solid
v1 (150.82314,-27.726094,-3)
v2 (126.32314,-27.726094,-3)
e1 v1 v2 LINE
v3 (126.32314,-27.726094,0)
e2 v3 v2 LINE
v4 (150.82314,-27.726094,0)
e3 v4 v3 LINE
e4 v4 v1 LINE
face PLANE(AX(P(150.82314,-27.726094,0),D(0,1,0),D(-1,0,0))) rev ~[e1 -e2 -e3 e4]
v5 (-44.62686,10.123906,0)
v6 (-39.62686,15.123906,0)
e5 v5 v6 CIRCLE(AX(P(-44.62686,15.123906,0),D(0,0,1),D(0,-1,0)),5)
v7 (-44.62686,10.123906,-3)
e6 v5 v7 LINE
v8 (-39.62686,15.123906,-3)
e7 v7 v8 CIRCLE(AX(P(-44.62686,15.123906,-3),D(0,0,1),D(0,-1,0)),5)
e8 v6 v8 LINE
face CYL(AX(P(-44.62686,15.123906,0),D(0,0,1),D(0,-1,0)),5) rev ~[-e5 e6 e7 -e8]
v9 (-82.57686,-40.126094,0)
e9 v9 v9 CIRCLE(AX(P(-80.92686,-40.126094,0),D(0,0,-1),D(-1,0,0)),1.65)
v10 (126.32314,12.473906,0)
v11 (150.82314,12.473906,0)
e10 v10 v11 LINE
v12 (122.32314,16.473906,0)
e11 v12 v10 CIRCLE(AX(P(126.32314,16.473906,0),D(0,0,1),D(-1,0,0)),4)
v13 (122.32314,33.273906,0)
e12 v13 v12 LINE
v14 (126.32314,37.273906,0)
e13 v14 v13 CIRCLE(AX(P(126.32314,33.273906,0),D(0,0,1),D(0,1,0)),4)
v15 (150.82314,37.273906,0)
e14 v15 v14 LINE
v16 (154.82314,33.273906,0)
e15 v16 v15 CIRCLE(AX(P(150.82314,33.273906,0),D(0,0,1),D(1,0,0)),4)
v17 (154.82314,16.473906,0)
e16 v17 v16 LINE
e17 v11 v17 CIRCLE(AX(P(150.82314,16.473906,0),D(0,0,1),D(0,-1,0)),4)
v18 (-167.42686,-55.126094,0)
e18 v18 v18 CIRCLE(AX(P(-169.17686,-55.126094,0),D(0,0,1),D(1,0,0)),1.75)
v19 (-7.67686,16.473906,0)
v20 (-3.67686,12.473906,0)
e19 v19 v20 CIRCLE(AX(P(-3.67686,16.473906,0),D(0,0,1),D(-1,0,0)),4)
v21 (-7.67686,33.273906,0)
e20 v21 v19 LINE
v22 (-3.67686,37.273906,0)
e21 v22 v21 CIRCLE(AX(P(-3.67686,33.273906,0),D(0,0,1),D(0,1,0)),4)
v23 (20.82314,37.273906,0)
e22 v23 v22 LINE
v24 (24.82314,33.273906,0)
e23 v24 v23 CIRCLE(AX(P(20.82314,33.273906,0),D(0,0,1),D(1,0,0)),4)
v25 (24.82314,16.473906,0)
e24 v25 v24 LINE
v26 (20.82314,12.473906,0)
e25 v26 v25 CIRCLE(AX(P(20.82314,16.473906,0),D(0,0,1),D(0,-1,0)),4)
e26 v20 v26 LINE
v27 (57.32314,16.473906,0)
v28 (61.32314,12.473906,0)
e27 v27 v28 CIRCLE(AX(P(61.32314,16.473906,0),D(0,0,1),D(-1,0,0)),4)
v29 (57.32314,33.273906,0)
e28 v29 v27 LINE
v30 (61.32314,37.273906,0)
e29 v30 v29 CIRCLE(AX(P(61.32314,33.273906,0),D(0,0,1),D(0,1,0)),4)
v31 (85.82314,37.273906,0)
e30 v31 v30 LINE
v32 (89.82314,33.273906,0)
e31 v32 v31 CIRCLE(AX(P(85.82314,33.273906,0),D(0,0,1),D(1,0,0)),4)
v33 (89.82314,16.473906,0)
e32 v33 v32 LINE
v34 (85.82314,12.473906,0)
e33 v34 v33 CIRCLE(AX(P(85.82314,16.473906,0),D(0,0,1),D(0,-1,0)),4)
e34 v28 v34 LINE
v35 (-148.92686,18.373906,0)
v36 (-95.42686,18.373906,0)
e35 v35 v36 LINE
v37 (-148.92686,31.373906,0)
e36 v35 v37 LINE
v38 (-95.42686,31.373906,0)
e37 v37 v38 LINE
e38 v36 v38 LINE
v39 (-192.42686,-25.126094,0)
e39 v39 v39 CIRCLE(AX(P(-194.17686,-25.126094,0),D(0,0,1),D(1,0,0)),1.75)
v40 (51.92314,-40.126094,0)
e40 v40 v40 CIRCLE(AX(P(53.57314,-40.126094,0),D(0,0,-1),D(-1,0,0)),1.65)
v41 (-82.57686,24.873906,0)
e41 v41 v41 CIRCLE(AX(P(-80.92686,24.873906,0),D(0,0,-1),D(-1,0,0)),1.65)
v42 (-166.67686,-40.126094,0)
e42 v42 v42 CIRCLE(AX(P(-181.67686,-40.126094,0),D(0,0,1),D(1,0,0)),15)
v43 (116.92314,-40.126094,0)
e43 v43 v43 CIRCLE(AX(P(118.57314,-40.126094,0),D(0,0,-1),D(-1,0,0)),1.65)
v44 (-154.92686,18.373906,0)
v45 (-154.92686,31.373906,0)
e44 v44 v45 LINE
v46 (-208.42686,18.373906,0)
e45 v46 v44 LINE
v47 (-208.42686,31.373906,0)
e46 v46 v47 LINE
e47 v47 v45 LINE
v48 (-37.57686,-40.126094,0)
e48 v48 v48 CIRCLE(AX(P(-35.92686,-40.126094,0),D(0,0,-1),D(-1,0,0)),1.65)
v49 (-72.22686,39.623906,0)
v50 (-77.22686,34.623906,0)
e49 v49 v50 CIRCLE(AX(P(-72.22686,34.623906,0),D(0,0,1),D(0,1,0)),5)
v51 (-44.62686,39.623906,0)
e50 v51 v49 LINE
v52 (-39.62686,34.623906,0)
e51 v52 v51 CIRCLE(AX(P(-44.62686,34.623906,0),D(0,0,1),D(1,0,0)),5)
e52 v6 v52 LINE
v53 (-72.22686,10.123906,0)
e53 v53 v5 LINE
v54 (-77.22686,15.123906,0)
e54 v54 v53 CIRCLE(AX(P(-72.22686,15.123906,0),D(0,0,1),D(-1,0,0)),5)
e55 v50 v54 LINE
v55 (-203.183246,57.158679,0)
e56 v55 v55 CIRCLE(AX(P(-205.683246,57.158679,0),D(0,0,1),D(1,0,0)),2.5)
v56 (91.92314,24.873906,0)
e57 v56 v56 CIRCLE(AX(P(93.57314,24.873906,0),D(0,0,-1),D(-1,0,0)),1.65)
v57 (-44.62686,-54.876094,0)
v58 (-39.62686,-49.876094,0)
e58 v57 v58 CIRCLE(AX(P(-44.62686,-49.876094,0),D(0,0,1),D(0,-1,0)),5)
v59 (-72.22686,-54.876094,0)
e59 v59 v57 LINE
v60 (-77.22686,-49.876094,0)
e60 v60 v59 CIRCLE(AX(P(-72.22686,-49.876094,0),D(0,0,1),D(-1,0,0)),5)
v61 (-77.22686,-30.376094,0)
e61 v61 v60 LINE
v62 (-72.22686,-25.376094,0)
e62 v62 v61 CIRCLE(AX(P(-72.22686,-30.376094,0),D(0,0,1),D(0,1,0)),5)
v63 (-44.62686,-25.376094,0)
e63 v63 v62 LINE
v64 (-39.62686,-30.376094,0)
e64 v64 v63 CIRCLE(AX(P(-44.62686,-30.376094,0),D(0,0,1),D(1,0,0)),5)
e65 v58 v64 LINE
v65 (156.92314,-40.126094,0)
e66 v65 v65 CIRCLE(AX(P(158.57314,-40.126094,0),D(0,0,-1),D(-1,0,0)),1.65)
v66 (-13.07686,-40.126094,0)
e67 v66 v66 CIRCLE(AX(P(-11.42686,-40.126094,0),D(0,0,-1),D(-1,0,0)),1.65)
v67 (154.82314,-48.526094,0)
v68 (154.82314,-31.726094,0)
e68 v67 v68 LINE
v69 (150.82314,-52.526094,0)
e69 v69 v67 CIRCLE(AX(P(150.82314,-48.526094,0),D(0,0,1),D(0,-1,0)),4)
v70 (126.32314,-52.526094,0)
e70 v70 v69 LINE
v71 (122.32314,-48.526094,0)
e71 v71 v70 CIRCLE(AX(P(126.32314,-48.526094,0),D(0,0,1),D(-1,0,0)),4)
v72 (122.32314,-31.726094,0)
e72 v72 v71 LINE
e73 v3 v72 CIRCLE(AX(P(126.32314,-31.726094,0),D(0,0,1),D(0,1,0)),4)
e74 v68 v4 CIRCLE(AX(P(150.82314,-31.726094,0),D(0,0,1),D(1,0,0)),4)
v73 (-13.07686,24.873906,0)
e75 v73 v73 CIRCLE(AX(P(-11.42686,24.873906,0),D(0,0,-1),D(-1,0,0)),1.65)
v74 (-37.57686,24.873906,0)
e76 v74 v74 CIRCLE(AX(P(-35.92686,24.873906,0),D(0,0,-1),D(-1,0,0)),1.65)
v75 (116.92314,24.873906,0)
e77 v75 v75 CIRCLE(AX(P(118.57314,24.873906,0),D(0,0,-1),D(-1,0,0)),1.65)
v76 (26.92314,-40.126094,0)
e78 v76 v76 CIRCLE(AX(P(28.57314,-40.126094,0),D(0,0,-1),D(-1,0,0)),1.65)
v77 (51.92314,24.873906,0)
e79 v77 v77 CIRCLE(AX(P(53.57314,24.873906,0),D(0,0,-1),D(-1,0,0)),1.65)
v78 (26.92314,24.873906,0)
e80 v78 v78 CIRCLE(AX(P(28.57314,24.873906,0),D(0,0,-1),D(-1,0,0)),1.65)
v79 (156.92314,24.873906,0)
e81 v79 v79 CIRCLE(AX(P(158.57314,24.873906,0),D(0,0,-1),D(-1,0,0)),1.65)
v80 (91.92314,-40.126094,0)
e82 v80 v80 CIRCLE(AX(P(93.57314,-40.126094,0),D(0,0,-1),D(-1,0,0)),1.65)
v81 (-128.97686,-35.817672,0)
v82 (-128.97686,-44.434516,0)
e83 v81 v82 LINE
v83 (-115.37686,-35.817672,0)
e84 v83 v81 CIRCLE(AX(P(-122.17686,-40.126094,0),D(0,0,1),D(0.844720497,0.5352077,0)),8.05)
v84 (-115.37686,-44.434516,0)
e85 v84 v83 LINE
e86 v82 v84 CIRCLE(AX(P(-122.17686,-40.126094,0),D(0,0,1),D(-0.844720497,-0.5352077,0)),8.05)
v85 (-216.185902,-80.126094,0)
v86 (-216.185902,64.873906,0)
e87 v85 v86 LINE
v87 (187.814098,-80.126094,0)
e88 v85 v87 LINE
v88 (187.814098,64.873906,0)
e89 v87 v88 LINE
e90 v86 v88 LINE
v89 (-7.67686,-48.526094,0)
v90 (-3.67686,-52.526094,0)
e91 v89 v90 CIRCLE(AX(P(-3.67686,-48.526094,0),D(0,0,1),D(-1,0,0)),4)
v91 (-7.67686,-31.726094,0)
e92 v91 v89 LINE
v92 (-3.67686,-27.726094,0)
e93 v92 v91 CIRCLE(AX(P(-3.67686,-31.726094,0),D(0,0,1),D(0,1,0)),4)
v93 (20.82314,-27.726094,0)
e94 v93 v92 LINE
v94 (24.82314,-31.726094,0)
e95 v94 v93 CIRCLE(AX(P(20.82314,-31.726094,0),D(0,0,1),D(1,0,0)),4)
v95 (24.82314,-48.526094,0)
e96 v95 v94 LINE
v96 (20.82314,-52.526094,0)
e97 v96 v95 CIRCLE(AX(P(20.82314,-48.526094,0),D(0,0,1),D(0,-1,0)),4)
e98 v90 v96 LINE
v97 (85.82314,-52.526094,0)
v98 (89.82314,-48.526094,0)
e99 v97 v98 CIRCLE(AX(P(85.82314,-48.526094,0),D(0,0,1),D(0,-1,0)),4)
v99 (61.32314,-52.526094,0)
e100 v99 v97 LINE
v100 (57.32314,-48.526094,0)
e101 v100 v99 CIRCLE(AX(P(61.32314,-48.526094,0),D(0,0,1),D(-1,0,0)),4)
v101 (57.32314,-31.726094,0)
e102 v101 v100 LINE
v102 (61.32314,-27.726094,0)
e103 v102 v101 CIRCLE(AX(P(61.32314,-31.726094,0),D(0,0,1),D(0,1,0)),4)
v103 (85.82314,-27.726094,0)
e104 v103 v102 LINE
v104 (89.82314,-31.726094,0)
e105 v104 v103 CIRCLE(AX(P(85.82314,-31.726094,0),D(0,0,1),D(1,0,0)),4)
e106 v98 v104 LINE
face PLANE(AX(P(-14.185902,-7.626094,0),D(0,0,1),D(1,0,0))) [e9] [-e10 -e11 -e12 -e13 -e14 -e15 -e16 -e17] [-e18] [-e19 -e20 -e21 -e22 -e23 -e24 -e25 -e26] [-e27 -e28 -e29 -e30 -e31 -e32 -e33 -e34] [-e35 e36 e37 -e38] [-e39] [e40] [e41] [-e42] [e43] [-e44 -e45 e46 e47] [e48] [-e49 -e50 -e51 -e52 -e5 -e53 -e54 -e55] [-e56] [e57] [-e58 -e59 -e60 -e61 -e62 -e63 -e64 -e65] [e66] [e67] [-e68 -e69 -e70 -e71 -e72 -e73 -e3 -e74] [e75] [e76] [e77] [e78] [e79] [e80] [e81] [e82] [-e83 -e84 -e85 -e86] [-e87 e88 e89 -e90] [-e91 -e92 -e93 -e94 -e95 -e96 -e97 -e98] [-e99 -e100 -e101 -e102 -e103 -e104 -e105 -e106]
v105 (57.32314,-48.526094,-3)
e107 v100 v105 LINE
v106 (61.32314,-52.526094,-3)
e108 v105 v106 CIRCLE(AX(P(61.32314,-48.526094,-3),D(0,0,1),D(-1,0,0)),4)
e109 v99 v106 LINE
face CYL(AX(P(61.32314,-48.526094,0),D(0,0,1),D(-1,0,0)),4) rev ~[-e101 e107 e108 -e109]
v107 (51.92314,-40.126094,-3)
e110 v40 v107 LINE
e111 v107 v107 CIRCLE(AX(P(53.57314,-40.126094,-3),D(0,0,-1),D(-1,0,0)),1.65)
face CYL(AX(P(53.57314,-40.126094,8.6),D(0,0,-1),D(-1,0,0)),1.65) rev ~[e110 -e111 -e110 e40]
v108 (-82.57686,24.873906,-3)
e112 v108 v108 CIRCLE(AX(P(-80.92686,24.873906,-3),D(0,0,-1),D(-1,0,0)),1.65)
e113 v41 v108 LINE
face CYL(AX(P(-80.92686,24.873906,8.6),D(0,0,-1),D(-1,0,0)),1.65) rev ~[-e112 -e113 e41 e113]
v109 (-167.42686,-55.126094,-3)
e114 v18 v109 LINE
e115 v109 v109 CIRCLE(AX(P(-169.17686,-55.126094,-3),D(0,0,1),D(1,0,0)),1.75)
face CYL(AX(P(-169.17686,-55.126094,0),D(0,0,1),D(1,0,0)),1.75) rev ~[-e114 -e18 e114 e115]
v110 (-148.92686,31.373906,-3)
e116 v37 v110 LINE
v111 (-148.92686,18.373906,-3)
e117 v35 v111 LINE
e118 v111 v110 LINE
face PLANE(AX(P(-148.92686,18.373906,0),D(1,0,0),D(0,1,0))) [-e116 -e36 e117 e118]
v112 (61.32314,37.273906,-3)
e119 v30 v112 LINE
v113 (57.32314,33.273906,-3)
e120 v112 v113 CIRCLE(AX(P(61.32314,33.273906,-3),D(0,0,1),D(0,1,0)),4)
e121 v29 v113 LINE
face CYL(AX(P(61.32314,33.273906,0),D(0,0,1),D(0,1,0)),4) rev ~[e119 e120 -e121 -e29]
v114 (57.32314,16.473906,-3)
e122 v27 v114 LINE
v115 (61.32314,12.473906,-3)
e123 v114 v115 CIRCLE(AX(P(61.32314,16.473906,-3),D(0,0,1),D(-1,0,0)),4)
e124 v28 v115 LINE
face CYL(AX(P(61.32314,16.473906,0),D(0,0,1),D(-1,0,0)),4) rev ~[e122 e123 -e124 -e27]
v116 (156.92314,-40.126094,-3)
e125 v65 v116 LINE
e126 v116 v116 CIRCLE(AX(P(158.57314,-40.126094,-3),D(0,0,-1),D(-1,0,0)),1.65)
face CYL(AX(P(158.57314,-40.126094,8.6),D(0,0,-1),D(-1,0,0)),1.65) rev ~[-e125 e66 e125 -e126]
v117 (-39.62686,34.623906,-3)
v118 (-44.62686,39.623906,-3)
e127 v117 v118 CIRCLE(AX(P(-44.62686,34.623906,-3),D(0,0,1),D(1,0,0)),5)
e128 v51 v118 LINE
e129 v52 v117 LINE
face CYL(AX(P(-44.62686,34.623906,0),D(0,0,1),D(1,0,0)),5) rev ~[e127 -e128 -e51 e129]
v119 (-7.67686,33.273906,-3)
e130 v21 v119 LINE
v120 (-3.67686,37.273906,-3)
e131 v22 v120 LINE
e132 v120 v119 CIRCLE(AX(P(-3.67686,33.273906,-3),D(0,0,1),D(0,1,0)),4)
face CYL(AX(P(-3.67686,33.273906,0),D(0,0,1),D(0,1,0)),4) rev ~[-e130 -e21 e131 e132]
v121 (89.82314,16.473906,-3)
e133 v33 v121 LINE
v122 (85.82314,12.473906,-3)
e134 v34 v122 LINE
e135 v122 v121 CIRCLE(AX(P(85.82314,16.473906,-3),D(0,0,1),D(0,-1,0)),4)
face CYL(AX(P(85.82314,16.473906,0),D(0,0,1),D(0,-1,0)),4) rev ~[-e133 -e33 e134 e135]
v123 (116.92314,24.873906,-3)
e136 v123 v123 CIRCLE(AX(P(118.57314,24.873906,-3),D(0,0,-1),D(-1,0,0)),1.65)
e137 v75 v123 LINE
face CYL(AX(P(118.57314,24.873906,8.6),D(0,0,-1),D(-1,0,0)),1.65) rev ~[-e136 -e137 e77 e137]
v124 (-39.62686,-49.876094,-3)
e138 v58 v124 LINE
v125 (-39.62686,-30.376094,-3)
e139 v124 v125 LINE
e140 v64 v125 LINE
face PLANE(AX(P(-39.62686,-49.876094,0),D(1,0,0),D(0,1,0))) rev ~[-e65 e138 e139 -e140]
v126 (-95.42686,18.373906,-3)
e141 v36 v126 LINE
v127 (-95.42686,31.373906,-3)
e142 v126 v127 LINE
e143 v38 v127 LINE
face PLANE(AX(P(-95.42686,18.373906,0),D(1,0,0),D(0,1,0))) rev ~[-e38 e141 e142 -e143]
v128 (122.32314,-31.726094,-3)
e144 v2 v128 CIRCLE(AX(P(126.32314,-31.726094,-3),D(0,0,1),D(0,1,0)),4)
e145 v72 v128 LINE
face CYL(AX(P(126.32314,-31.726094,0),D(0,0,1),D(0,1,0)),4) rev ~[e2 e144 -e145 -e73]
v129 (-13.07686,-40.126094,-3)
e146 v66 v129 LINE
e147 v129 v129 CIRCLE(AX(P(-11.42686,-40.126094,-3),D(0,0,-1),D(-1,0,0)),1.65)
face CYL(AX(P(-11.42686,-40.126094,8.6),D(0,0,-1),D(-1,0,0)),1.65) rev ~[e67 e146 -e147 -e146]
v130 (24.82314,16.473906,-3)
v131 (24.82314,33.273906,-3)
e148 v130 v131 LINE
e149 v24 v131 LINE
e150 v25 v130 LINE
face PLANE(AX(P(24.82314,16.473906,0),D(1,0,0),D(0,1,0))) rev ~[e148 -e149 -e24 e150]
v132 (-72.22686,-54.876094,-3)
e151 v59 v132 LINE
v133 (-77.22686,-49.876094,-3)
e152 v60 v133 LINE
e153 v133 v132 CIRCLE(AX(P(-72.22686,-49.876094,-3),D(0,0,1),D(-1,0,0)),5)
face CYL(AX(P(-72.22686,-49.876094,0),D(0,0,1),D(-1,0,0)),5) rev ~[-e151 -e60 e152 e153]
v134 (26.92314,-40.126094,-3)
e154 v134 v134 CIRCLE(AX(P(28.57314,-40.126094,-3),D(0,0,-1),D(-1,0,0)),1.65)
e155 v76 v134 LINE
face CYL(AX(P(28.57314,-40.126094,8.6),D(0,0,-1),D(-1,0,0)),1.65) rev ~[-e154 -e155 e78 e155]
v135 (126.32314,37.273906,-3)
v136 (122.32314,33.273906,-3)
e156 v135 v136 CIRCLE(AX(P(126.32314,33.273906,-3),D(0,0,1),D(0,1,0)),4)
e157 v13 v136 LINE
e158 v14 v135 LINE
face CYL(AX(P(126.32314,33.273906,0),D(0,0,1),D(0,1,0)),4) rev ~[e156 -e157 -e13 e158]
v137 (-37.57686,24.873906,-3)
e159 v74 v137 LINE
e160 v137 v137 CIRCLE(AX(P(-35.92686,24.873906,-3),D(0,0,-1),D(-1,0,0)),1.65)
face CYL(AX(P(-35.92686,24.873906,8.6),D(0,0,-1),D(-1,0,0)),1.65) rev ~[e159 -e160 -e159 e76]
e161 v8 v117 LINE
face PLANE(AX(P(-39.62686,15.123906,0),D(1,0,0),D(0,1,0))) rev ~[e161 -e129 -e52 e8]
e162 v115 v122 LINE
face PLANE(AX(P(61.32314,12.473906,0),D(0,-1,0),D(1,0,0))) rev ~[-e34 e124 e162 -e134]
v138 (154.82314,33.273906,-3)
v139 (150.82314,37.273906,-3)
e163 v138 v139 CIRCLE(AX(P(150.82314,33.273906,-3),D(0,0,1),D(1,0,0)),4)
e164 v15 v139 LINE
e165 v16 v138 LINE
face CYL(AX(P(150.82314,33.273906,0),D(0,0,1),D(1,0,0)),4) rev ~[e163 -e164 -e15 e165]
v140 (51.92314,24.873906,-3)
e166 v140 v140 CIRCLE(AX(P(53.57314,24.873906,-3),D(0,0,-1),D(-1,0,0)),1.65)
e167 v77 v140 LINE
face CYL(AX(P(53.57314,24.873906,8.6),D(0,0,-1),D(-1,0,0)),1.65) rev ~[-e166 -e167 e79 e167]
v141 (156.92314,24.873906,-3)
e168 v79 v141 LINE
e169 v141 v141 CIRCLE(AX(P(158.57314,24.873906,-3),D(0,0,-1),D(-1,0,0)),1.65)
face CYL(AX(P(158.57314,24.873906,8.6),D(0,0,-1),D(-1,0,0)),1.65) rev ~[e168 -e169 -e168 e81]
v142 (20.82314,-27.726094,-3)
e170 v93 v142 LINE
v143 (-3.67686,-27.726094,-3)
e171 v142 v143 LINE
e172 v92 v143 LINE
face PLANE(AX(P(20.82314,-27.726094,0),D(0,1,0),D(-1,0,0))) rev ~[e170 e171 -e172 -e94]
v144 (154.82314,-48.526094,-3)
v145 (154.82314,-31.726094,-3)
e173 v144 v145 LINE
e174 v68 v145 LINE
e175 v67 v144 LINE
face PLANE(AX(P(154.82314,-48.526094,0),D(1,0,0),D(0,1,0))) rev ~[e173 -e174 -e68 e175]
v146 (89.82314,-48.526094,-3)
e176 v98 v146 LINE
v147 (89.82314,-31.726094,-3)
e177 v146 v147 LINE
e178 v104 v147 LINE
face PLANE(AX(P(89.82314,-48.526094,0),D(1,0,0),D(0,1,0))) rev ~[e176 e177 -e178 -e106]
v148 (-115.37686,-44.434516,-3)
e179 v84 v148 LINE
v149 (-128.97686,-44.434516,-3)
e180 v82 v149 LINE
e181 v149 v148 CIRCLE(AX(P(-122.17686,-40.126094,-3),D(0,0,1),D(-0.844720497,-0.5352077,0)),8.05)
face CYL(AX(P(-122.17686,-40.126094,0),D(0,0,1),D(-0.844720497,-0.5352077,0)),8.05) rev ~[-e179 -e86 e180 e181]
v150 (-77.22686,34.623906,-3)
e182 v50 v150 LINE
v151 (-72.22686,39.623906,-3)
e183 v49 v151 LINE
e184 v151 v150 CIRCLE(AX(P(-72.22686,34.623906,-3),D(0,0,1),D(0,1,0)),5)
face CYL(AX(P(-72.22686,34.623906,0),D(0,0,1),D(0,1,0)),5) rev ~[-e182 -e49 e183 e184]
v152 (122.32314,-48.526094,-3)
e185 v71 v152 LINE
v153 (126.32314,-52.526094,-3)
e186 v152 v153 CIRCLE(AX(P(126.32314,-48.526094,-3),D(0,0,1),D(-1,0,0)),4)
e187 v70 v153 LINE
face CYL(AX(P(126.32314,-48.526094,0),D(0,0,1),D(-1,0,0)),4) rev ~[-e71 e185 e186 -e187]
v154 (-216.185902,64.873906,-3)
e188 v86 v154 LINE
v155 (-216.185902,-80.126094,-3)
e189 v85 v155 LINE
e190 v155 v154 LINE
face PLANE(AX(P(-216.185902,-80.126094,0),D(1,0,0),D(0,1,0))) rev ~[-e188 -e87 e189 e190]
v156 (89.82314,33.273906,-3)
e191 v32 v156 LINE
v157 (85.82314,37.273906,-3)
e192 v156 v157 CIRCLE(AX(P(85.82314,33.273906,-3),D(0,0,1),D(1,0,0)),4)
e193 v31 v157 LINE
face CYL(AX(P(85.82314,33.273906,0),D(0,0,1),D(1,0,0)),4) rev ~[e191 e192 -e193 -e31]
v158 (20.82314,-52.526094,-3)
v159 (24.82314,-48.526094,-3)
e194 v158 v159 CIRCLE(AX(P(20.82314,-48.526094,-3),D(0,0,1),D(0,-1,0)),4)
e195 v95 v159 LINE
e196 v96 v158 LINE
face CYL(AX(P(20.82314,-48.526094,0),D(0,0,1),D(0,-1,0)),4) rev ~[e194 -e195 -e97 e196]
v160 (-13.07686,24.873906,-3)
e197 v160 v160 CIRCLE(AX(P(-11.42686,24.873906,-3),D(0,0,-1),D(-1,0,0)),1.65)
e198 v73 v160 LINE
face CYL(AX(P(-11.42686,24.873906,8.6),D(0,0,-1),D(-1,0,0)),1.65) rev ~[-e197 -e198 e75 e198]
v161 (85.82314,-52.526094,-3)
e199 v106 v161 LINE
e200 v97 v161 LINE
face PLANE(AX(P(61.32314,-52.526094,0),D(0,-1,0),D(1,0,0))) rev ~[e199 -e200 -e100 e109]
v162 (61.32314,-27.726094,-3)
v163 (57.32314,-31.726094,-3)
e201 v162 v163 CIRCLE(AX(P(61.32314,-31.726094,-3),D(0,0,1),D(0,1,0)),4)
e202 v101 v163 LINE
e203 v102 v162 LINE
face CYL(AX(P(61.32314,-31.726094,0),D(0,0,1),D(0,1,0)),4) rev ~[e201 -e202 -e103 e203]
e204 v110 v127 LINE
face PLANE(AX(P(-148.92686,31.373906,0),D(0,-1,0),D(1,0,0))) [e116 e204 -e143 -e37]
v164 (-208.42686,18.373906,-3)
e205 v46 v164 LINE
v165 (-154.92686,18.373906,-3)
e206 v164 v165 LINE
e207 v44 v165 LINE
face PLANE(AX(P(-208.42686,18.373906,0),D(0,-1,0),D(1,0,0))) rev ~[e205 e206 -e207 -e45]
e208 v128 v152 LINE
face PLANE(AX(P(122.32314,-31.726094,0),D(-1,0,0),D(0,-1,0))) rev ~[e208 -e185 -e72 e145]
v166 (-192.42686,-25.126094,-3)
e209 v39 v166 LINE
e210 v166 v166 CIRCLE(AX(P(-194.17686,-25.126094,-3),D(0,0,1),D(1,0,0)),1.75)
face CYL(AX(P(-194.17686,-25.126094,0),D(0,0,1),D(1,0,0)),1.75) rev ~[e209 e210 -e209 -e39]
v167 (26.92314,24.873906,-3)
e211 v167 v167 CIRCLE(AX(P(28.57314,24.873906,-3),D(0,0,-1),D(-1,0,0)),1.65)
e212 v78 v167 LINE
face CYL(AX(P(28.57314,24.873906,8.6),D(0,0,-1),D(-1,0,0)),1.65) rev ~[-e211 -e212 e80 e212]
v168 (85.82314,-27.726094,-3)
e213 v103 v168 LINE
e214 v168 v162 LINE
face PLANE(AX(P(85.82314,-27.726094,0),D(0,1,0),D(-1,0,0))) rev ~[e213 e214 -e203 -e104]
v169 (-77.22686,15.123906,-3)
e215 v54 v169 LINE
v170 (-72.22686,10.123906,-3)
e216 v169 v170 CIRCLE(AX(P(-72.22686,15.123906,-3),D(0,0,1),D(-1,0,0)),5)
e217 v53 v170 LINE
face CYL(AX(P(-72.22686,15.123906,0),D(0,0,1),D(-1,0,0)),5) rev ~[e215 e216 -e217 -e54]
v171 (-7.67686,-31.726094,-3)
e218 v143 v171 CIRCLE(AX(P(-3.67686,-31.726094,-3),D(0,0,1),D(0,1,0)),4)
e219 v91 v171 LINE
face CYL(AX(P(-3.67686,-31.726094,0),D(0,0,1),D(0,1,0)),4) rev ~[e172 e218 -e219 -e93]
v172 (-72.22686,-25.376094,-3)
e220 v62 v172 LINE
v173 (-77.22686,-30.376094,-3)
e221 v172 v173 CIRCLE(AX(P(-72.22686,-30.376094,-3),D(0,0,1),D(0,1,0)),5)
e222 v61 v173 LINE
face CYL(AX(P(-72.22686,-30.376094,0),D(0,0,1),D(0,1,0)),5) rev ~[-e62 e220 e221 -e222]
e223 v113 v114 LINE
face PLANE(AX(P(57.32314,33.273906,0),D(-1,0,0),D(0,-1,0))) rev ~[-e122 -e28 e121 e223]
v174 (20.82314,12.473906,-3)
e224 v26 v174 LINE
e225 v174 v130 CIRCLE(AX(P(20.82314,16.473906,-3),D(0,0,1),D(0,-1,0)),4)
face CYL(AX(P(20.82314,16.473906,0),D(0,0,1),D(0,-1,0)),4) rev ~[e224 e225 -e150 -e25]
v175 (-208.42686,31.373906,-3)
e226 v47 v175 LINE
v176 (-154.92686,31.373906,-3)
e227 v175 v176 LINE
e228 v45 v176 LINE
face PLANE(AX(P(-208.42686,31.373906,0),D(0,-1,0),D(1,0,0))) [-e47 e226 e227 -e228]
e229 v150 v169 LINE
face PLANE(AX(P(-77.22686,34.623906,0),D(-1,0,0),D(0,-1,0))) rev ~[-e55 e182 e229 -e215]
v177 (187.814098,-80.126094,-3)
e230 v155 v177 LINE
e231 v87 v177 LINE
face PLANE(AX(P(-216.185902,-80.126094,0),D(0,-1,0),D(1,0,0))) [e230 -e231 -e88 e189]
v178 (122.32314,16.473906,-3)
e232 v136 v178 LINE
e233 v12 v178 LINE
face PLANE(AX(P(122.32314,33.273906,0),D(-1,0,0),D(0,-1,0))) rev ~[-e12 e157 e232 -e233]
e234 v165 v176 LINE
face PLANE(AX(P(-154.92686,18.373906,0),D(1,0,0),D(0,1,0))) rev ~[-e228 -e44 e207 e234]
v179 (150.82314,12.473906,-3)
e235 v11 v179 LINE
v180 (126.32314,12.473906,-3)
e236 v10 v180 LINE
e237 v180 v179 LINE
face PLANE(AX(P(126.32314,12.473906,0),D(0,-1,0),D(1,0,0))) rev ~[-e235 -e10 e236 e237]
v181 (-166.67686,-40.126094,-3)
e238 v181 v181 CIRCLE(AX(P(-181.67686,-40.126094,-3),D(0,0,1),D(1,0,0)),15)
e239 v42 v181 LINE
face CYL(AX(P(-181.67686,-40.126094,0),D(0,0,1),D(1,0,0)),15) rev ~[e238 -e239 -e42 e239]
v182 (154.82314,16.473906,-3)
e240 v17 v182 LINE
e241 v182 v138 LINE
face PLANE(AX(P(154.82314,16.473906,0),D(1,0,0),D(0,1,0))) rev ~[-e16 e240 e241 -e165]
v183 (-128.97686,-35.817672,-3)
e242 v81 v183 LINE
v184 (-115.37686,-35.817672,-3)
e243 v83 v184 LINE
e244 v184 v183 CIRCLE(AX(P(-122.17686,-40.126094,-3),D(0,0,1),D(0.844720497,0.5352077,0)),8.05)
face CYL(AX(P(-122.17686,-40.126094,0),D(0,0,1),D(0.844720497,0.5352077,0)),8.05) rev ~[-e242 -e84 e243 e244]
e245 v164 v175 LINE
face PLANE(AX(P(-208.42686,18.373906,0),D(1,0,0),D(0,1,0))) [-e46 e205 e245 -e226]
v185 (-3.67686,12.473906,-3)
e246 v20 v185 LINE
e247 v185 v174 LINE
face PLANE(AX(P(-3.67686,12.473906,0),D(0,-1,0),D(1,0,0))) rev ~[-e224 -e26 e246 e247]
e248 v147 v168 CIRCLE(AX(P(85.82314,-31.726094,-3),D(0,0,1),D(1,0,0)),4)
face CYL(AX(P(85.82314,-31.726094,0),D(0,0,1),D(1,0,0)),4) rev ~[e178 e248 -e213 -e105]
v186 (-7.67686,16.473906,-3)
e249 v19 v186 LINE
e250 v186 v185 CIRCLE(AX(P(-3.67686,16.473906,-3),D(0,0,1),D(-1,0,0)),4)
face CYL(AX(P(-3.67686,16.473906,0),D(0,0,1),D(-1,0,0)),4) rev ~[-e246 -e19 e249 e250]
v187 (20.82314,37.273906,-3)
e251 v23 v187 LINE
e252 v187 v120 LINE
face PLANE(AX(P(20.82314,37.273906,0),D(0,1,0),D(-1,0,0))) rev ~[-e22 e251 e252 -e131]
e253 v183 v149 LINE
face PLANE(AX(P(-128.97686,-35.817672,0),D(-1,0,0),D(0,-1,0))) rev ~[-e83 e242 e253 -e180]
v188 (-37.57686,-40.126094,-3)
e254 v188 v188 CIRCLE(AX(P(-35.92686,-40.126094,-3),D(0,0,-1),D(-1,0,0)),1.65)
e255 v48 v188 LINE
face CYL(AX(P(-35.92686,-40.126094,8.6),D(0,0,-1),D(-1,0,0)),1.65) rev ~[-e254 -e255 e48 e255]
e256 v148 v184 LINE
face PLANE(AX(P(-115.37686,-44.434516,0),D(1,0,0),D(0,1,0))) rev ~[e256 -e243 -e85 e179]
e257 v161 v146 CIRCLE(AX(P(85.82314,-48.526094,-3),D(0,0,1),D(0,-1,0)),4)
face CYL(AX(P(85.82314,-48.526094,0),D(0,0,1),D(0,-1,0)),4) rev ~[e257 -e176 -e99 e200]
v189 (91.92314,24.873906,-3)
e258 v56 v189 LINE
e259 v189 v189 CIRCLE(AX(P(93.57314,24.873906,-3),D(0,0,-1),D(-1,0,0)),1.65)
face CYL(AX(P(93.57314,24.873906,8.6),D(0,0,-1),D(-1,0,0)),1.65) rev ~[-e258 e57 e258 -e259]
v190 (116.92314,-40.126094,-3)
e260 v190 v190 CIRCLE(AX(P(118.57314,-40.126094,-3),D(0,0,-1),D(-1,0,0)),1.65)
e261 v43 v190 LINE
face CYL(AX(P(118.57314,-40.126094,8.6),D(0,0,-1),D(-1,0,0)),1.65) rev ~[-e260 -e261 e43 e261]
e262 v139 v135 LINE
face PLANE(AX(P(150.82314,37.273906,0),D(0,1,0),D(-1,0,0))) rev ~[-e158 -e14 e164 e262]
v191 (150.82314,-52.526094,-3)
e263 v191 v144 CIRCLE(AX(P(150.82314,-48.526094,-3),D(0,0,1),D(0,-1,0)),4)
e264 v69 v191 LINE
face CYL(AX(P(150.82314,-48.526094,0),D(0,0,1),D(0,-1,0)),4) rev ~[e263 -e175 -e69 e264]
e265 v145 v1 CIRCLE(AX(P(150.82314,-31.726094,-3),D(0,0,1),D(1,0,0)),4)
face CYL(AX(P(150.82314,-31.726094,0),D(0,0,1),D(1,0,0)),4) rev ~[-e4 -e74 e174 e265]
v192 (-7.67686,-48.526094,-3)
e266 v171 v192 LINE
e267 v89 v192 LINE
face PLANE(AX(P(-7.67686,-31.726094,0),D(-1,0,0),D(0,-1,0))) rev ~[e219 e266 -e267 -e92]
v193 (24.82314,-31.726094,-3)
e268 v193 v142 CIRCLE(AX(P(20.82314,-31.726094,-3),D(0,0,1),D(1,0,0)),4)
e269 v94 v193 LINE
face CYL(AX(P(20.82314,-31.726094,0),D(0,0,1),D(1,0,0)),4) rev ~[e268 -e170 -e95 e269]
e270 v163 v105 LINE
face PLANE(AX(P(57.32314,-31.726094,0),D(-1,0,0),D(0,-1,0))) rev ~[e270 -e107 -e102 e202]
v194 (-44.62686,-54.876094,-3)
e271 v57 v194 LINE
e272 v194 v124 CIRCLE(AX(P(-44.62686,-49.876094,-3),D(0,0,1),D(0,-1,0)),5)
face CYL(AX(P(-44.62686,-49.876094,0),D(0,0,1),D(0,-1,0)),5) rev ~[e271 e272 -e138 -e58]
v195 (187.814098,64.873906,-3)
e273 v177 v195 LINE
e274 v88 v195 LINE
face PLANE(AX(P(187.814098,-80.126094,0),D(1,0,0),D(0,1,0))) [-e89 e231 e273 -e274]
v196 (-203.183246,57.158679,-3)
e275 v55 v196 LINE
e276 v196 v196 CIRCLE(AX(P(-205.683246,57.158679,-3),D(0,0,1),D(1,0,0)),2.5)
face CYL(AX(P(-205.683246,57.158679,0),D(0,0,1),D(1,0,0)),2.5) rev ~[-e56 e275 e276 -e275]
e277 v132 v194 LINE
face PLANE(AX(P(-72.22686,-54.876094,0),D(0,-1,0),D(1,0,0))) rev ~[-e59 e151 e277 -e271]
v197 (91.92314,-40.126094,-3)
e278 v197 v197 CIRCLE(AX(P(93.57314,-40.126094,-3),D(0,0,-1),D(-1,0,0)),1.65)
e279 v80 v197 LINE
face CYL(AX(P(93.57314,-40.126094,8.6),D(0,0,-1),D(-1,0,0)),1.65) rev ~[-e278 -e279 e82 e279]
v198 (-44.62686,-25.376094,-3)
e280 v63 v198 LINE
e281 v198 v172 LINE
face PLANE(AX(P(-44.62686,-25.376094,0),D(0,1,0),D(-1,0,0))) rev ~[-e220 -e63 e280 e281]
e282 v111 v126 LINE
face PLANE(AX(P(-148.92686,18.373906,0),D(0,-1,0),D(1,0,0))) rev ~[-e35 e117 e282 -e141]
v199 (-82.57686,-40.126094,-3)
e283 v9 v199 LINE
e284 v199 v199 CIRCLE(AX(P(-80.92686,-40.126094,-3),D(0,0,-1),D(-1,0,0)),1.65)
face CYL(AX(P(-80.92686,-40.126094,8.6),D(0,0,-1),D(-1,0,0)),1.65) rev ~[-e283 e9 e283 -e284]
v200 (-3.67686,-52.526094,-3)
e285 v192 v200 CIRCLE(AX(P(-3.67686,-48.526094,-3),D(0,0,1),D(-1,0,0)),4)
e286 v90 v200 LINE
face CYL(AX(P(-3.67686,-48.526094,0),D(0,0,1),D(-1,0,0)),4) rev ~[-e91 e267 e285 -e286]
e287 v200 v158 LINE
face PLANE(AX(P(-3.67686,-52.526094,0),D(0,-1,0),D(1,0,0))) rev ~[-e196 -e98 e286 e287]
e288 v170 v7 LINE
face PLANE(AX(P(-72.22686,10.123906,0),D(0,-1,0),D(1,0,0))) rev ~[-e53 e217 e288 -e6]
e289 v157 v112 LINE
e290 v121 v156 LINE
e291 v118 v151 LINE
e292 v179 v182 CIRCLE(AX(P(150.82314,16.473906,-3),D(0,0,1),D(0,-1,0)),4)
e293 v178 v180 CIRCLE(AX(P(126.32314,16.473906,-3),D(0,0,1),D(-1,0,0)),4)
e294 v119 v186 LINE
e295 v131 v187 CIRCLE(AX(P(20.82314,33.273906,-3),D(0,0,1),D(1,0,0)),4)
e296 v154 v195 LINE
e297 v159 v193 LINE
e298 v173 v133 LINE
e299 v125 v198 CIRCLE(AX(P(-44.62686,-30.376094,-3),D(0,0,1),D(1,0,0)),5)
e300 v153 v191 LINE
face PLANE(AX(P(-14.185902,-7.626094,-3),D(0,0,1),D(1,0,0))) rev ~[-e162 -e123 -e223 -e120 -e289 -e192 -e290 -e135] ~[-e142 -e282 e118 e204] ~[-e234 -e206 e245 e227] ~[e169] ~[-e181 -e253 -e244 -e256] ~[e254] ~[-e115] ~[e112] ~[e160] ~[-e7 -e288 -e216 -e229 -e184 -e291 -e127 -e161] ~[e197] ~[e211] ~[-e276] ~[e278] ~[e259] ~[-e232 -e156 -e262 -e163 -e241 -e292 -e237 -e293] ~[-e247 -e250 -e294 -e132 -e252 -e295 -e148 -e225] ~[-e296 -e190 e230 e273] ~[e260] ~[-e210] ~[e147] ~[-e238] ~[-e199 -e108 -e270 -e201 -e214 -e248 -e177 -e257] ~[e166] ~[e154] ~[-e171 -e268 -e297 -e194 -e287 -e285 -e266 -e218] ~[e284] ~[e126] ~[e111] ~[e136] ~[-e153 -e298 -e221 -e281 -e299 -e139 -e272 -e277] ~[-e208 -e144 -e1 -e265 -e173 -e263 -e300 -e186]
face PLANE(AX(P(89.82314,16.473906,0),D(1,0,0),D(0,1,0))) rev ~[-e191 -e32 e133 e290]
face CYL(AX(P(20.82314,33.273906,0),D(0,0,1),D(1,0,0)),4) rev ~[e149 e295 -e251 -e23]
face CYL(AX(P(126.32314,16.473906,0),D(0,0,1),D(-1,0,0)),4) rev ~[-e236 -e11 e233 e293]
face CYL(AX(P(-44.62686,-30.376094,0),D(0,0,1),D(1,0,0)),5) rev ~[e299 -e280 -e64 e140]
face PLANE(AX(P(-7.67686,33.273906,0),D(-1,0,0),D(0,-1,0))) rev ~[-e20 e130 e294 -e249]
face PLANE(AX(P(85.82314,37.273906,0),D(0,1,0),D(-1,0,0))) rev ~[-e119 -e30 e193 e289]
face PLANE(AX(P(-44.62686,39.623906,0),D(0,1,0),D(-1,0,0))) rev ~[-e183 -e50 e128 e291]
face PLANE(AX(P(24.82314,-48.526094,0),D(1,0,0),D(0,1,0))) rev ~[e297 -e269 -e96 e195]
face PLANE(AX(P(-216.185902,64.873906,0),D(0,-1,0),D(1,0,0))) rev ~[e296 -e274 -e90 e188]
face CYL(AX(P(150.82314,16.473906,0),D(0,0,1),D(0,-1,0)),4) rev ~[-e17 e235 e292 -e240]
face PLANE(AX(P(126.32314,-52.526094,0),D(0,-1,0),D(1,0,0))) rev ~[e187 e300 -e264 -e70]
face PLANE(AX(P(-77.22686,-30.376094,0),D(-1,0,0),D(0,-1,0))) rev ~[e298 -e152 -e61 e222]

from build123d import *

# Parameters (mm, degrees)
F0_W     = 404
F0_H     = 145
F2_DEPTH = 3
F3_D     = 3.3
F3_DEPTH = 8.6
F3_TIP   = 0.9914200214
F1_R     = 1.5
F1_R_2   = 15
F1_R_3   = 1.75
F1_W     = 53.5
F1_H     = 13
F1_R_4   = 2.5
F4_DEPTH = 25


with BuildPart() as f2:
    # F0 (on Top) → F2 (new body)
    with BuildSketch(Plane.XY):
        with Locations((-14.1859020234, -7.6260944492)):
            Rectangle(F0_W, F0_H)
    extrude(amount=-F2_DEPTH)

    # F3
    with Locations(Plane.XY):
        with Locations((118.573140085, 24.8739055508), (158.573140085, 24.8739055508), (93.573140085, 24.8739055508), (53.573140085, 24.8739055508), (53.573140085, -40.1260944492), (93.573140085, -40.1260944492), (118.573140085, -40.1260944492), (158.573140085, -40.1260944492), (28.573140085, -40.1260944492), (-11.426859915, -40.1260944492), (-11.426859915, 24.8739055508), (28.573140085, 24.8739055508), (-35.926859915, 24.8739055508), (-80.926859915, 24.8739055508), (-80.926859915, -40.1260944492), (-35.926859915, -40.1260944492)):
            Hole(F3_D / 2, depth=F3_DEPTH)
            with Locations((0, 0, -(F3_DEPTH + F3_TIP / 2))):  # 118° drill point
                Cone(0, F3_D / 2, F3_TIP, mode=Mode.SUBTRACT)

    # F1 (on Top) → F4 (cut)
    with BuildSketch(Plane.XY):
        with BuildLine():
            Line((126.323140085, 12.4739055508), (150.823140085, 12.4739055508))
            ThreePointArc((150.823140085, 12.4739055508), (153.6515672098, 13.645478426), (154.823140085, 16.4739055508))
            Line((154.823140085, 16.4739055508), (154.823140085, 33.2739055508))
            ThreePointArc((154.823140085, 33.2739055508), (153.6515672098, 36.1023326755), (150.823140085, 37.2739055508))
            Line((150.823140085, 37.2739055508), (126.323140085, 37.2739055508))
            ThreePointArc((126.323140085, 37.2739055508), (123.4947129603, 36.1023326755), (122.323140085, 33.2739055508))
            Line((122.323140085, 33.2739055508), (122.323140085, 16.4739055508))
            ThreePointArc((122.323140085, 16.4739055508), (123.4947129603, 13.645478426), (126.323140085, 12.4739055508))
        make_face()
        with Locations((158.573140085, 24.8739055508)):
            Circle(F1_R)
        with Locations((118.573140085, 24.8739055508)):
            Circle(F1_R)
        with BuildLine():
            Line((-72.226859915, 10.1239055508), (-44.626859915, 10.1239055508))
            ThreePointArc((-44.626859915, 10.1239055508), (-41.091326009, 11.5883716448), (-39.626859915, 15.1239055508))
            Line((-39.626859915, 15.1239055508), (-39.626859915, 34.6239055508))
            ThreePointArc((-39.626859915, 34.6239055508), (-41.091326009, 38.1594394567), (-44.626859915, 39.6239055508))
            Line((-44.626859915, 39.6239055508), (-72.226859915, 39.6239055508))
            ThreePointArc((-72.226859915, 39.6239055508), (-75.7623938209, 38.1594394567), (-77.226859915, 34.6239055508))
            Line((-77.226859915, 34.6239055508), (-77.226859915, 15.1239055508))
            ThreePointArc((-77.226859915, 15.1239055508), (-75.7623938209, 11.5883716448), (-72.226859915, 10.1239055508))
        make_face()
        with Locations((-35.926859915, 24.8739055508)):
            Circle(F1_R)
        with Locations((-80.926859915, 24.8739055508)):
            Circle(F1_R)
        with BuildLine():
            Line((122.323140085, -31.7260944492), (122.323140085, -48.5260944492))
            ThreePointArc((122.323140085, -48.5260944492), (123.4947129603, -51.354521574), (126.323140085, -52.5260944492))
            Line((126.323140085, -52.5260944492), (150.823140085, -52.5260944492))
            ThreePointArc((150.823140085, -52.5260944492), (153.6515672098, -51.354521574), (154.823140085, -48.5260944492))
            Line((154.823140085, -48.5260944492), (154.823140085, -31.7260944492))
            ThreePointArc((154.823140085, -31.7260944492), (153.6515672098, -28.8976673245), (150.823140085, -27.7260944492))
            Line((150.823140085, -27.7260944492), (126.323140085, -27.7260944492))
            ThreePointArc((126.323140085, -27.7260944492), (123.4947129603, -28.8976673245), (122.323140085, -31.7260944492))
        make_face()
        with Locations((158.573140085, -40.1260944492)):
            Circle(F1_R)
        with Locations((118.573140085, -40.1260944492)):
            Circle(F1_R)
        with BuildLine():
            Line((57.323140085, 33.2739055508), (57.323140085, 16.4739055508))
            ThreePointArc((57.323140085, 16.4739055508), (58.4947129603, 13.645478426), (61.323140085, 12.4739055508))
            Line((61.323140085, 12.4739055508), (85.823140085, 12.4739055508))
            ThreePointArc((85.823140085, 12.4739055508), (88.6515672098, 13.645478426), (89.823140085, 16.4739055508))
            Line((89.823140085, 16.4739055508), (89.823140085, 33.2739055508))
            ThreePointArc((89.823140085, 33.2739055508), (88.6515672098, 36.1023326755), (85.823140085, 37.2739055508))
            Line((85.823140085, 37.2739055508), (61.323140085, 37.2739055508))
            ThreePointArc((61.323140085, 37.2739055508), (58.4947129603, 36.1023326755), (57.323140085, 33.2739055508))
        make_face()
        with Locations((93.573140085, 24.8739055508)):
            Circle(F1_R)
        with Locations((53.573140085, 24.8739055508)):
            Circle(F1_R)
        with BuildLine():
            Line((57.323140085, -31.7260944492), (57.323140085, -48.5260944492))
            ThreePointArc((57.323140085, -48.5260944492), (58.4947129603, -51.354521574), (61.323140085, -52.5260944492))
            Line((61.323140085, -52.5260944492), (85.823140085, -52.5260944492))
            ThreePointArc((85.823140085, -52.5260944492), (88.6515672098, -51.354521574), (89.823140085, -48.5260944492))
            Line((89.823140085, -48.5260944492), (89.823140085, -31.7260944492))
            ThreePointArc((89.823140085, -31.7260944492), (88.6515672098, -28.8976673245), (85.823140085, -27.7260944492))
            Line((85.823140085, -27.7260944492), (61.323140085, -27.7260944492))
            ThreePointArc((61.323140085, -27.7260944492), (58.4947129603, -28.8976673245), (57.323140085, -31.7260944492))
        make_face()
        with Locations((93.573140085, -40.1260944492)):
            Circle(F1_R)
        with Locations((53.573140085, -40.1260944492)):
            Circle(F1_R)
        with BuildLine():
            Line((-7.676859915, 33.2739055508), (-7.676859915, 16.4739055508))
            ThreePointArc((-7.676859915, 16.4739055508), (-6.5052870397, 13.645478426), (-3.676859915, 12.4739055508))
            Line((-3.676859915, 12.4739055508), (20.823140085, 12.4739055508))
            ThreePointArc((20.823140085, 12.4739055508), (23.6515672098, 13.645478426), (24.823140085, 16.4739055508))
            Line((24.823140085, 16.4739055508), (24.823140085, 33.2739055508))
            ThreePointArc((24.823140085, 33.2739055508), (23.6515672098, 36.1023326755), (20.823140085, 37.2739055508))
            Line((20.823140085, 37.2739055508), (-3.676859915, 37.2739055508))
            ThreePointArc((-3.676859915, 37.2739055508), (-6.5052870397, 36.1023326755), (-7.676859915, 33.2739055508))
        make_face()
        with Locations((28.573140085, 24.8739055508)):
            Circle(F1_R)
        with Locations((-11.426859915, 24.8739055508)):
            Circle(F1_R)
        with BuildLine():
            Line((-7.676859915, -31.7260944492), (-7.676859915, -48.5260944492))
            ThreePointArc((-7.676859915, -48.5260944492), (-6.5052870397, -51.354521574), (-3.676859915, -52.5260944492))
            Line((-3.676859915, -52.5260944492), (20.823140085, -52.5260944492))
            ThreePointArc((20.823140085, -52.5260944492), (23.6515672098, -51.354521574), (24.823140085, -48.5260944492))
            Line((24.823140085, -48.5260944492), (24.823140085, -31.7260944492))
            ThreePointArc((24.823140085, -31.7260944492), (23.6515672098, -28.8976673245), (20.823140085, -27.7260944492))
            Line((20.823140085, -27.7260944492), (-3.676859915, -27.7260944492))
            ThreePointArc((-3.676859915, -27.7260944492), (-6.5052870397, -28.8976673245), (-7.676859915, -31.7260944492))
        make_face()
        with Locations((28.573140085, -40.1260944492)):
            Circle(F1_R)
        with Locations((-11.426859915, -40.1260944492)):
            Circle(F1_R)
        with BuildLine():
            Line((-77.226859915, -30.3760944492), (-77.226859915, -49.8760944492))
            ThreePointArc((-77.226859915, -49.8760944492), (-75.7623938209, -53.4116283552), (-72.226859915, -54.8760944492))
            Line((-72.226859915, -54.8760944492), (-44.626859915, -54.8760944492))
            ThreePointArc((-44.626859915, -54.8760944492), (-41.091326009, -53.4116283552), (-39.626859915, -49.8760944492))
            Line((-39.626859915, -49.8760944492), (-39.626859915, -30.3760944492))
            ThreePointArc((-39.626859915, -30.3760944492), (-41.091326009, -26.8405605433), (-44.626859915, -25.3760944492))
            Line((-44.626859915, -25.3760944492), (-72.226859915, -25.3760944492))
            ThreePointArc((-72.226859915, -25.3760944492), (-75.7623938209, -26.8405605433), (-77.226859915, -30.3760944492))
        make_face()
        with Locations((-35.926859915, -40.1260944492)):
            Circle(F1_R)
        with Locations((-80.926859915, -40.1260944492)):
            Circle(F1_R)
        with Locations((-181.676859915, -40.1260944492)):
            Circle(F1_R_2)
        with Locations((-169.176859915, -55.1260944492)):
            Circle(F1_R_3)
        with Locations((-194.176859915, -25.1260944492)):
            Circle(F1_R_3)
        with Locations((-181.676859915, 24.8739055508)):
            Rectangle(F1_W, F1_H)
        with Locations((-205.6832462549, 57.1586787701)):
            Circle(F1_R_4)
        with BuildLine():
            Line((-128.976859915, -35.8176724643), (-128.976859915, -44.4345164341))
            ThreePointArc((-128.976859915, -44.4345164341), (-122.176859915, -48.1760944492), (-115.376859915, -44.4345164341))
            Line((-115.376859915, -44.4345164341), (-115.376859915, -35.8176724643))
            ThreePointArc((-115.376859915, -35.8176724643), (-122.176859915, -32.0760944492), (-128.976859915, -35.8176724643))
        make_face()
        with Locations((-122.176859915, 24.8739055508)):
            Rectangle(F1_W, F1_H)
    extrude(amount=-F4_DEPTH, mode=Mode.SUBTRACT)


solid = f2.part
